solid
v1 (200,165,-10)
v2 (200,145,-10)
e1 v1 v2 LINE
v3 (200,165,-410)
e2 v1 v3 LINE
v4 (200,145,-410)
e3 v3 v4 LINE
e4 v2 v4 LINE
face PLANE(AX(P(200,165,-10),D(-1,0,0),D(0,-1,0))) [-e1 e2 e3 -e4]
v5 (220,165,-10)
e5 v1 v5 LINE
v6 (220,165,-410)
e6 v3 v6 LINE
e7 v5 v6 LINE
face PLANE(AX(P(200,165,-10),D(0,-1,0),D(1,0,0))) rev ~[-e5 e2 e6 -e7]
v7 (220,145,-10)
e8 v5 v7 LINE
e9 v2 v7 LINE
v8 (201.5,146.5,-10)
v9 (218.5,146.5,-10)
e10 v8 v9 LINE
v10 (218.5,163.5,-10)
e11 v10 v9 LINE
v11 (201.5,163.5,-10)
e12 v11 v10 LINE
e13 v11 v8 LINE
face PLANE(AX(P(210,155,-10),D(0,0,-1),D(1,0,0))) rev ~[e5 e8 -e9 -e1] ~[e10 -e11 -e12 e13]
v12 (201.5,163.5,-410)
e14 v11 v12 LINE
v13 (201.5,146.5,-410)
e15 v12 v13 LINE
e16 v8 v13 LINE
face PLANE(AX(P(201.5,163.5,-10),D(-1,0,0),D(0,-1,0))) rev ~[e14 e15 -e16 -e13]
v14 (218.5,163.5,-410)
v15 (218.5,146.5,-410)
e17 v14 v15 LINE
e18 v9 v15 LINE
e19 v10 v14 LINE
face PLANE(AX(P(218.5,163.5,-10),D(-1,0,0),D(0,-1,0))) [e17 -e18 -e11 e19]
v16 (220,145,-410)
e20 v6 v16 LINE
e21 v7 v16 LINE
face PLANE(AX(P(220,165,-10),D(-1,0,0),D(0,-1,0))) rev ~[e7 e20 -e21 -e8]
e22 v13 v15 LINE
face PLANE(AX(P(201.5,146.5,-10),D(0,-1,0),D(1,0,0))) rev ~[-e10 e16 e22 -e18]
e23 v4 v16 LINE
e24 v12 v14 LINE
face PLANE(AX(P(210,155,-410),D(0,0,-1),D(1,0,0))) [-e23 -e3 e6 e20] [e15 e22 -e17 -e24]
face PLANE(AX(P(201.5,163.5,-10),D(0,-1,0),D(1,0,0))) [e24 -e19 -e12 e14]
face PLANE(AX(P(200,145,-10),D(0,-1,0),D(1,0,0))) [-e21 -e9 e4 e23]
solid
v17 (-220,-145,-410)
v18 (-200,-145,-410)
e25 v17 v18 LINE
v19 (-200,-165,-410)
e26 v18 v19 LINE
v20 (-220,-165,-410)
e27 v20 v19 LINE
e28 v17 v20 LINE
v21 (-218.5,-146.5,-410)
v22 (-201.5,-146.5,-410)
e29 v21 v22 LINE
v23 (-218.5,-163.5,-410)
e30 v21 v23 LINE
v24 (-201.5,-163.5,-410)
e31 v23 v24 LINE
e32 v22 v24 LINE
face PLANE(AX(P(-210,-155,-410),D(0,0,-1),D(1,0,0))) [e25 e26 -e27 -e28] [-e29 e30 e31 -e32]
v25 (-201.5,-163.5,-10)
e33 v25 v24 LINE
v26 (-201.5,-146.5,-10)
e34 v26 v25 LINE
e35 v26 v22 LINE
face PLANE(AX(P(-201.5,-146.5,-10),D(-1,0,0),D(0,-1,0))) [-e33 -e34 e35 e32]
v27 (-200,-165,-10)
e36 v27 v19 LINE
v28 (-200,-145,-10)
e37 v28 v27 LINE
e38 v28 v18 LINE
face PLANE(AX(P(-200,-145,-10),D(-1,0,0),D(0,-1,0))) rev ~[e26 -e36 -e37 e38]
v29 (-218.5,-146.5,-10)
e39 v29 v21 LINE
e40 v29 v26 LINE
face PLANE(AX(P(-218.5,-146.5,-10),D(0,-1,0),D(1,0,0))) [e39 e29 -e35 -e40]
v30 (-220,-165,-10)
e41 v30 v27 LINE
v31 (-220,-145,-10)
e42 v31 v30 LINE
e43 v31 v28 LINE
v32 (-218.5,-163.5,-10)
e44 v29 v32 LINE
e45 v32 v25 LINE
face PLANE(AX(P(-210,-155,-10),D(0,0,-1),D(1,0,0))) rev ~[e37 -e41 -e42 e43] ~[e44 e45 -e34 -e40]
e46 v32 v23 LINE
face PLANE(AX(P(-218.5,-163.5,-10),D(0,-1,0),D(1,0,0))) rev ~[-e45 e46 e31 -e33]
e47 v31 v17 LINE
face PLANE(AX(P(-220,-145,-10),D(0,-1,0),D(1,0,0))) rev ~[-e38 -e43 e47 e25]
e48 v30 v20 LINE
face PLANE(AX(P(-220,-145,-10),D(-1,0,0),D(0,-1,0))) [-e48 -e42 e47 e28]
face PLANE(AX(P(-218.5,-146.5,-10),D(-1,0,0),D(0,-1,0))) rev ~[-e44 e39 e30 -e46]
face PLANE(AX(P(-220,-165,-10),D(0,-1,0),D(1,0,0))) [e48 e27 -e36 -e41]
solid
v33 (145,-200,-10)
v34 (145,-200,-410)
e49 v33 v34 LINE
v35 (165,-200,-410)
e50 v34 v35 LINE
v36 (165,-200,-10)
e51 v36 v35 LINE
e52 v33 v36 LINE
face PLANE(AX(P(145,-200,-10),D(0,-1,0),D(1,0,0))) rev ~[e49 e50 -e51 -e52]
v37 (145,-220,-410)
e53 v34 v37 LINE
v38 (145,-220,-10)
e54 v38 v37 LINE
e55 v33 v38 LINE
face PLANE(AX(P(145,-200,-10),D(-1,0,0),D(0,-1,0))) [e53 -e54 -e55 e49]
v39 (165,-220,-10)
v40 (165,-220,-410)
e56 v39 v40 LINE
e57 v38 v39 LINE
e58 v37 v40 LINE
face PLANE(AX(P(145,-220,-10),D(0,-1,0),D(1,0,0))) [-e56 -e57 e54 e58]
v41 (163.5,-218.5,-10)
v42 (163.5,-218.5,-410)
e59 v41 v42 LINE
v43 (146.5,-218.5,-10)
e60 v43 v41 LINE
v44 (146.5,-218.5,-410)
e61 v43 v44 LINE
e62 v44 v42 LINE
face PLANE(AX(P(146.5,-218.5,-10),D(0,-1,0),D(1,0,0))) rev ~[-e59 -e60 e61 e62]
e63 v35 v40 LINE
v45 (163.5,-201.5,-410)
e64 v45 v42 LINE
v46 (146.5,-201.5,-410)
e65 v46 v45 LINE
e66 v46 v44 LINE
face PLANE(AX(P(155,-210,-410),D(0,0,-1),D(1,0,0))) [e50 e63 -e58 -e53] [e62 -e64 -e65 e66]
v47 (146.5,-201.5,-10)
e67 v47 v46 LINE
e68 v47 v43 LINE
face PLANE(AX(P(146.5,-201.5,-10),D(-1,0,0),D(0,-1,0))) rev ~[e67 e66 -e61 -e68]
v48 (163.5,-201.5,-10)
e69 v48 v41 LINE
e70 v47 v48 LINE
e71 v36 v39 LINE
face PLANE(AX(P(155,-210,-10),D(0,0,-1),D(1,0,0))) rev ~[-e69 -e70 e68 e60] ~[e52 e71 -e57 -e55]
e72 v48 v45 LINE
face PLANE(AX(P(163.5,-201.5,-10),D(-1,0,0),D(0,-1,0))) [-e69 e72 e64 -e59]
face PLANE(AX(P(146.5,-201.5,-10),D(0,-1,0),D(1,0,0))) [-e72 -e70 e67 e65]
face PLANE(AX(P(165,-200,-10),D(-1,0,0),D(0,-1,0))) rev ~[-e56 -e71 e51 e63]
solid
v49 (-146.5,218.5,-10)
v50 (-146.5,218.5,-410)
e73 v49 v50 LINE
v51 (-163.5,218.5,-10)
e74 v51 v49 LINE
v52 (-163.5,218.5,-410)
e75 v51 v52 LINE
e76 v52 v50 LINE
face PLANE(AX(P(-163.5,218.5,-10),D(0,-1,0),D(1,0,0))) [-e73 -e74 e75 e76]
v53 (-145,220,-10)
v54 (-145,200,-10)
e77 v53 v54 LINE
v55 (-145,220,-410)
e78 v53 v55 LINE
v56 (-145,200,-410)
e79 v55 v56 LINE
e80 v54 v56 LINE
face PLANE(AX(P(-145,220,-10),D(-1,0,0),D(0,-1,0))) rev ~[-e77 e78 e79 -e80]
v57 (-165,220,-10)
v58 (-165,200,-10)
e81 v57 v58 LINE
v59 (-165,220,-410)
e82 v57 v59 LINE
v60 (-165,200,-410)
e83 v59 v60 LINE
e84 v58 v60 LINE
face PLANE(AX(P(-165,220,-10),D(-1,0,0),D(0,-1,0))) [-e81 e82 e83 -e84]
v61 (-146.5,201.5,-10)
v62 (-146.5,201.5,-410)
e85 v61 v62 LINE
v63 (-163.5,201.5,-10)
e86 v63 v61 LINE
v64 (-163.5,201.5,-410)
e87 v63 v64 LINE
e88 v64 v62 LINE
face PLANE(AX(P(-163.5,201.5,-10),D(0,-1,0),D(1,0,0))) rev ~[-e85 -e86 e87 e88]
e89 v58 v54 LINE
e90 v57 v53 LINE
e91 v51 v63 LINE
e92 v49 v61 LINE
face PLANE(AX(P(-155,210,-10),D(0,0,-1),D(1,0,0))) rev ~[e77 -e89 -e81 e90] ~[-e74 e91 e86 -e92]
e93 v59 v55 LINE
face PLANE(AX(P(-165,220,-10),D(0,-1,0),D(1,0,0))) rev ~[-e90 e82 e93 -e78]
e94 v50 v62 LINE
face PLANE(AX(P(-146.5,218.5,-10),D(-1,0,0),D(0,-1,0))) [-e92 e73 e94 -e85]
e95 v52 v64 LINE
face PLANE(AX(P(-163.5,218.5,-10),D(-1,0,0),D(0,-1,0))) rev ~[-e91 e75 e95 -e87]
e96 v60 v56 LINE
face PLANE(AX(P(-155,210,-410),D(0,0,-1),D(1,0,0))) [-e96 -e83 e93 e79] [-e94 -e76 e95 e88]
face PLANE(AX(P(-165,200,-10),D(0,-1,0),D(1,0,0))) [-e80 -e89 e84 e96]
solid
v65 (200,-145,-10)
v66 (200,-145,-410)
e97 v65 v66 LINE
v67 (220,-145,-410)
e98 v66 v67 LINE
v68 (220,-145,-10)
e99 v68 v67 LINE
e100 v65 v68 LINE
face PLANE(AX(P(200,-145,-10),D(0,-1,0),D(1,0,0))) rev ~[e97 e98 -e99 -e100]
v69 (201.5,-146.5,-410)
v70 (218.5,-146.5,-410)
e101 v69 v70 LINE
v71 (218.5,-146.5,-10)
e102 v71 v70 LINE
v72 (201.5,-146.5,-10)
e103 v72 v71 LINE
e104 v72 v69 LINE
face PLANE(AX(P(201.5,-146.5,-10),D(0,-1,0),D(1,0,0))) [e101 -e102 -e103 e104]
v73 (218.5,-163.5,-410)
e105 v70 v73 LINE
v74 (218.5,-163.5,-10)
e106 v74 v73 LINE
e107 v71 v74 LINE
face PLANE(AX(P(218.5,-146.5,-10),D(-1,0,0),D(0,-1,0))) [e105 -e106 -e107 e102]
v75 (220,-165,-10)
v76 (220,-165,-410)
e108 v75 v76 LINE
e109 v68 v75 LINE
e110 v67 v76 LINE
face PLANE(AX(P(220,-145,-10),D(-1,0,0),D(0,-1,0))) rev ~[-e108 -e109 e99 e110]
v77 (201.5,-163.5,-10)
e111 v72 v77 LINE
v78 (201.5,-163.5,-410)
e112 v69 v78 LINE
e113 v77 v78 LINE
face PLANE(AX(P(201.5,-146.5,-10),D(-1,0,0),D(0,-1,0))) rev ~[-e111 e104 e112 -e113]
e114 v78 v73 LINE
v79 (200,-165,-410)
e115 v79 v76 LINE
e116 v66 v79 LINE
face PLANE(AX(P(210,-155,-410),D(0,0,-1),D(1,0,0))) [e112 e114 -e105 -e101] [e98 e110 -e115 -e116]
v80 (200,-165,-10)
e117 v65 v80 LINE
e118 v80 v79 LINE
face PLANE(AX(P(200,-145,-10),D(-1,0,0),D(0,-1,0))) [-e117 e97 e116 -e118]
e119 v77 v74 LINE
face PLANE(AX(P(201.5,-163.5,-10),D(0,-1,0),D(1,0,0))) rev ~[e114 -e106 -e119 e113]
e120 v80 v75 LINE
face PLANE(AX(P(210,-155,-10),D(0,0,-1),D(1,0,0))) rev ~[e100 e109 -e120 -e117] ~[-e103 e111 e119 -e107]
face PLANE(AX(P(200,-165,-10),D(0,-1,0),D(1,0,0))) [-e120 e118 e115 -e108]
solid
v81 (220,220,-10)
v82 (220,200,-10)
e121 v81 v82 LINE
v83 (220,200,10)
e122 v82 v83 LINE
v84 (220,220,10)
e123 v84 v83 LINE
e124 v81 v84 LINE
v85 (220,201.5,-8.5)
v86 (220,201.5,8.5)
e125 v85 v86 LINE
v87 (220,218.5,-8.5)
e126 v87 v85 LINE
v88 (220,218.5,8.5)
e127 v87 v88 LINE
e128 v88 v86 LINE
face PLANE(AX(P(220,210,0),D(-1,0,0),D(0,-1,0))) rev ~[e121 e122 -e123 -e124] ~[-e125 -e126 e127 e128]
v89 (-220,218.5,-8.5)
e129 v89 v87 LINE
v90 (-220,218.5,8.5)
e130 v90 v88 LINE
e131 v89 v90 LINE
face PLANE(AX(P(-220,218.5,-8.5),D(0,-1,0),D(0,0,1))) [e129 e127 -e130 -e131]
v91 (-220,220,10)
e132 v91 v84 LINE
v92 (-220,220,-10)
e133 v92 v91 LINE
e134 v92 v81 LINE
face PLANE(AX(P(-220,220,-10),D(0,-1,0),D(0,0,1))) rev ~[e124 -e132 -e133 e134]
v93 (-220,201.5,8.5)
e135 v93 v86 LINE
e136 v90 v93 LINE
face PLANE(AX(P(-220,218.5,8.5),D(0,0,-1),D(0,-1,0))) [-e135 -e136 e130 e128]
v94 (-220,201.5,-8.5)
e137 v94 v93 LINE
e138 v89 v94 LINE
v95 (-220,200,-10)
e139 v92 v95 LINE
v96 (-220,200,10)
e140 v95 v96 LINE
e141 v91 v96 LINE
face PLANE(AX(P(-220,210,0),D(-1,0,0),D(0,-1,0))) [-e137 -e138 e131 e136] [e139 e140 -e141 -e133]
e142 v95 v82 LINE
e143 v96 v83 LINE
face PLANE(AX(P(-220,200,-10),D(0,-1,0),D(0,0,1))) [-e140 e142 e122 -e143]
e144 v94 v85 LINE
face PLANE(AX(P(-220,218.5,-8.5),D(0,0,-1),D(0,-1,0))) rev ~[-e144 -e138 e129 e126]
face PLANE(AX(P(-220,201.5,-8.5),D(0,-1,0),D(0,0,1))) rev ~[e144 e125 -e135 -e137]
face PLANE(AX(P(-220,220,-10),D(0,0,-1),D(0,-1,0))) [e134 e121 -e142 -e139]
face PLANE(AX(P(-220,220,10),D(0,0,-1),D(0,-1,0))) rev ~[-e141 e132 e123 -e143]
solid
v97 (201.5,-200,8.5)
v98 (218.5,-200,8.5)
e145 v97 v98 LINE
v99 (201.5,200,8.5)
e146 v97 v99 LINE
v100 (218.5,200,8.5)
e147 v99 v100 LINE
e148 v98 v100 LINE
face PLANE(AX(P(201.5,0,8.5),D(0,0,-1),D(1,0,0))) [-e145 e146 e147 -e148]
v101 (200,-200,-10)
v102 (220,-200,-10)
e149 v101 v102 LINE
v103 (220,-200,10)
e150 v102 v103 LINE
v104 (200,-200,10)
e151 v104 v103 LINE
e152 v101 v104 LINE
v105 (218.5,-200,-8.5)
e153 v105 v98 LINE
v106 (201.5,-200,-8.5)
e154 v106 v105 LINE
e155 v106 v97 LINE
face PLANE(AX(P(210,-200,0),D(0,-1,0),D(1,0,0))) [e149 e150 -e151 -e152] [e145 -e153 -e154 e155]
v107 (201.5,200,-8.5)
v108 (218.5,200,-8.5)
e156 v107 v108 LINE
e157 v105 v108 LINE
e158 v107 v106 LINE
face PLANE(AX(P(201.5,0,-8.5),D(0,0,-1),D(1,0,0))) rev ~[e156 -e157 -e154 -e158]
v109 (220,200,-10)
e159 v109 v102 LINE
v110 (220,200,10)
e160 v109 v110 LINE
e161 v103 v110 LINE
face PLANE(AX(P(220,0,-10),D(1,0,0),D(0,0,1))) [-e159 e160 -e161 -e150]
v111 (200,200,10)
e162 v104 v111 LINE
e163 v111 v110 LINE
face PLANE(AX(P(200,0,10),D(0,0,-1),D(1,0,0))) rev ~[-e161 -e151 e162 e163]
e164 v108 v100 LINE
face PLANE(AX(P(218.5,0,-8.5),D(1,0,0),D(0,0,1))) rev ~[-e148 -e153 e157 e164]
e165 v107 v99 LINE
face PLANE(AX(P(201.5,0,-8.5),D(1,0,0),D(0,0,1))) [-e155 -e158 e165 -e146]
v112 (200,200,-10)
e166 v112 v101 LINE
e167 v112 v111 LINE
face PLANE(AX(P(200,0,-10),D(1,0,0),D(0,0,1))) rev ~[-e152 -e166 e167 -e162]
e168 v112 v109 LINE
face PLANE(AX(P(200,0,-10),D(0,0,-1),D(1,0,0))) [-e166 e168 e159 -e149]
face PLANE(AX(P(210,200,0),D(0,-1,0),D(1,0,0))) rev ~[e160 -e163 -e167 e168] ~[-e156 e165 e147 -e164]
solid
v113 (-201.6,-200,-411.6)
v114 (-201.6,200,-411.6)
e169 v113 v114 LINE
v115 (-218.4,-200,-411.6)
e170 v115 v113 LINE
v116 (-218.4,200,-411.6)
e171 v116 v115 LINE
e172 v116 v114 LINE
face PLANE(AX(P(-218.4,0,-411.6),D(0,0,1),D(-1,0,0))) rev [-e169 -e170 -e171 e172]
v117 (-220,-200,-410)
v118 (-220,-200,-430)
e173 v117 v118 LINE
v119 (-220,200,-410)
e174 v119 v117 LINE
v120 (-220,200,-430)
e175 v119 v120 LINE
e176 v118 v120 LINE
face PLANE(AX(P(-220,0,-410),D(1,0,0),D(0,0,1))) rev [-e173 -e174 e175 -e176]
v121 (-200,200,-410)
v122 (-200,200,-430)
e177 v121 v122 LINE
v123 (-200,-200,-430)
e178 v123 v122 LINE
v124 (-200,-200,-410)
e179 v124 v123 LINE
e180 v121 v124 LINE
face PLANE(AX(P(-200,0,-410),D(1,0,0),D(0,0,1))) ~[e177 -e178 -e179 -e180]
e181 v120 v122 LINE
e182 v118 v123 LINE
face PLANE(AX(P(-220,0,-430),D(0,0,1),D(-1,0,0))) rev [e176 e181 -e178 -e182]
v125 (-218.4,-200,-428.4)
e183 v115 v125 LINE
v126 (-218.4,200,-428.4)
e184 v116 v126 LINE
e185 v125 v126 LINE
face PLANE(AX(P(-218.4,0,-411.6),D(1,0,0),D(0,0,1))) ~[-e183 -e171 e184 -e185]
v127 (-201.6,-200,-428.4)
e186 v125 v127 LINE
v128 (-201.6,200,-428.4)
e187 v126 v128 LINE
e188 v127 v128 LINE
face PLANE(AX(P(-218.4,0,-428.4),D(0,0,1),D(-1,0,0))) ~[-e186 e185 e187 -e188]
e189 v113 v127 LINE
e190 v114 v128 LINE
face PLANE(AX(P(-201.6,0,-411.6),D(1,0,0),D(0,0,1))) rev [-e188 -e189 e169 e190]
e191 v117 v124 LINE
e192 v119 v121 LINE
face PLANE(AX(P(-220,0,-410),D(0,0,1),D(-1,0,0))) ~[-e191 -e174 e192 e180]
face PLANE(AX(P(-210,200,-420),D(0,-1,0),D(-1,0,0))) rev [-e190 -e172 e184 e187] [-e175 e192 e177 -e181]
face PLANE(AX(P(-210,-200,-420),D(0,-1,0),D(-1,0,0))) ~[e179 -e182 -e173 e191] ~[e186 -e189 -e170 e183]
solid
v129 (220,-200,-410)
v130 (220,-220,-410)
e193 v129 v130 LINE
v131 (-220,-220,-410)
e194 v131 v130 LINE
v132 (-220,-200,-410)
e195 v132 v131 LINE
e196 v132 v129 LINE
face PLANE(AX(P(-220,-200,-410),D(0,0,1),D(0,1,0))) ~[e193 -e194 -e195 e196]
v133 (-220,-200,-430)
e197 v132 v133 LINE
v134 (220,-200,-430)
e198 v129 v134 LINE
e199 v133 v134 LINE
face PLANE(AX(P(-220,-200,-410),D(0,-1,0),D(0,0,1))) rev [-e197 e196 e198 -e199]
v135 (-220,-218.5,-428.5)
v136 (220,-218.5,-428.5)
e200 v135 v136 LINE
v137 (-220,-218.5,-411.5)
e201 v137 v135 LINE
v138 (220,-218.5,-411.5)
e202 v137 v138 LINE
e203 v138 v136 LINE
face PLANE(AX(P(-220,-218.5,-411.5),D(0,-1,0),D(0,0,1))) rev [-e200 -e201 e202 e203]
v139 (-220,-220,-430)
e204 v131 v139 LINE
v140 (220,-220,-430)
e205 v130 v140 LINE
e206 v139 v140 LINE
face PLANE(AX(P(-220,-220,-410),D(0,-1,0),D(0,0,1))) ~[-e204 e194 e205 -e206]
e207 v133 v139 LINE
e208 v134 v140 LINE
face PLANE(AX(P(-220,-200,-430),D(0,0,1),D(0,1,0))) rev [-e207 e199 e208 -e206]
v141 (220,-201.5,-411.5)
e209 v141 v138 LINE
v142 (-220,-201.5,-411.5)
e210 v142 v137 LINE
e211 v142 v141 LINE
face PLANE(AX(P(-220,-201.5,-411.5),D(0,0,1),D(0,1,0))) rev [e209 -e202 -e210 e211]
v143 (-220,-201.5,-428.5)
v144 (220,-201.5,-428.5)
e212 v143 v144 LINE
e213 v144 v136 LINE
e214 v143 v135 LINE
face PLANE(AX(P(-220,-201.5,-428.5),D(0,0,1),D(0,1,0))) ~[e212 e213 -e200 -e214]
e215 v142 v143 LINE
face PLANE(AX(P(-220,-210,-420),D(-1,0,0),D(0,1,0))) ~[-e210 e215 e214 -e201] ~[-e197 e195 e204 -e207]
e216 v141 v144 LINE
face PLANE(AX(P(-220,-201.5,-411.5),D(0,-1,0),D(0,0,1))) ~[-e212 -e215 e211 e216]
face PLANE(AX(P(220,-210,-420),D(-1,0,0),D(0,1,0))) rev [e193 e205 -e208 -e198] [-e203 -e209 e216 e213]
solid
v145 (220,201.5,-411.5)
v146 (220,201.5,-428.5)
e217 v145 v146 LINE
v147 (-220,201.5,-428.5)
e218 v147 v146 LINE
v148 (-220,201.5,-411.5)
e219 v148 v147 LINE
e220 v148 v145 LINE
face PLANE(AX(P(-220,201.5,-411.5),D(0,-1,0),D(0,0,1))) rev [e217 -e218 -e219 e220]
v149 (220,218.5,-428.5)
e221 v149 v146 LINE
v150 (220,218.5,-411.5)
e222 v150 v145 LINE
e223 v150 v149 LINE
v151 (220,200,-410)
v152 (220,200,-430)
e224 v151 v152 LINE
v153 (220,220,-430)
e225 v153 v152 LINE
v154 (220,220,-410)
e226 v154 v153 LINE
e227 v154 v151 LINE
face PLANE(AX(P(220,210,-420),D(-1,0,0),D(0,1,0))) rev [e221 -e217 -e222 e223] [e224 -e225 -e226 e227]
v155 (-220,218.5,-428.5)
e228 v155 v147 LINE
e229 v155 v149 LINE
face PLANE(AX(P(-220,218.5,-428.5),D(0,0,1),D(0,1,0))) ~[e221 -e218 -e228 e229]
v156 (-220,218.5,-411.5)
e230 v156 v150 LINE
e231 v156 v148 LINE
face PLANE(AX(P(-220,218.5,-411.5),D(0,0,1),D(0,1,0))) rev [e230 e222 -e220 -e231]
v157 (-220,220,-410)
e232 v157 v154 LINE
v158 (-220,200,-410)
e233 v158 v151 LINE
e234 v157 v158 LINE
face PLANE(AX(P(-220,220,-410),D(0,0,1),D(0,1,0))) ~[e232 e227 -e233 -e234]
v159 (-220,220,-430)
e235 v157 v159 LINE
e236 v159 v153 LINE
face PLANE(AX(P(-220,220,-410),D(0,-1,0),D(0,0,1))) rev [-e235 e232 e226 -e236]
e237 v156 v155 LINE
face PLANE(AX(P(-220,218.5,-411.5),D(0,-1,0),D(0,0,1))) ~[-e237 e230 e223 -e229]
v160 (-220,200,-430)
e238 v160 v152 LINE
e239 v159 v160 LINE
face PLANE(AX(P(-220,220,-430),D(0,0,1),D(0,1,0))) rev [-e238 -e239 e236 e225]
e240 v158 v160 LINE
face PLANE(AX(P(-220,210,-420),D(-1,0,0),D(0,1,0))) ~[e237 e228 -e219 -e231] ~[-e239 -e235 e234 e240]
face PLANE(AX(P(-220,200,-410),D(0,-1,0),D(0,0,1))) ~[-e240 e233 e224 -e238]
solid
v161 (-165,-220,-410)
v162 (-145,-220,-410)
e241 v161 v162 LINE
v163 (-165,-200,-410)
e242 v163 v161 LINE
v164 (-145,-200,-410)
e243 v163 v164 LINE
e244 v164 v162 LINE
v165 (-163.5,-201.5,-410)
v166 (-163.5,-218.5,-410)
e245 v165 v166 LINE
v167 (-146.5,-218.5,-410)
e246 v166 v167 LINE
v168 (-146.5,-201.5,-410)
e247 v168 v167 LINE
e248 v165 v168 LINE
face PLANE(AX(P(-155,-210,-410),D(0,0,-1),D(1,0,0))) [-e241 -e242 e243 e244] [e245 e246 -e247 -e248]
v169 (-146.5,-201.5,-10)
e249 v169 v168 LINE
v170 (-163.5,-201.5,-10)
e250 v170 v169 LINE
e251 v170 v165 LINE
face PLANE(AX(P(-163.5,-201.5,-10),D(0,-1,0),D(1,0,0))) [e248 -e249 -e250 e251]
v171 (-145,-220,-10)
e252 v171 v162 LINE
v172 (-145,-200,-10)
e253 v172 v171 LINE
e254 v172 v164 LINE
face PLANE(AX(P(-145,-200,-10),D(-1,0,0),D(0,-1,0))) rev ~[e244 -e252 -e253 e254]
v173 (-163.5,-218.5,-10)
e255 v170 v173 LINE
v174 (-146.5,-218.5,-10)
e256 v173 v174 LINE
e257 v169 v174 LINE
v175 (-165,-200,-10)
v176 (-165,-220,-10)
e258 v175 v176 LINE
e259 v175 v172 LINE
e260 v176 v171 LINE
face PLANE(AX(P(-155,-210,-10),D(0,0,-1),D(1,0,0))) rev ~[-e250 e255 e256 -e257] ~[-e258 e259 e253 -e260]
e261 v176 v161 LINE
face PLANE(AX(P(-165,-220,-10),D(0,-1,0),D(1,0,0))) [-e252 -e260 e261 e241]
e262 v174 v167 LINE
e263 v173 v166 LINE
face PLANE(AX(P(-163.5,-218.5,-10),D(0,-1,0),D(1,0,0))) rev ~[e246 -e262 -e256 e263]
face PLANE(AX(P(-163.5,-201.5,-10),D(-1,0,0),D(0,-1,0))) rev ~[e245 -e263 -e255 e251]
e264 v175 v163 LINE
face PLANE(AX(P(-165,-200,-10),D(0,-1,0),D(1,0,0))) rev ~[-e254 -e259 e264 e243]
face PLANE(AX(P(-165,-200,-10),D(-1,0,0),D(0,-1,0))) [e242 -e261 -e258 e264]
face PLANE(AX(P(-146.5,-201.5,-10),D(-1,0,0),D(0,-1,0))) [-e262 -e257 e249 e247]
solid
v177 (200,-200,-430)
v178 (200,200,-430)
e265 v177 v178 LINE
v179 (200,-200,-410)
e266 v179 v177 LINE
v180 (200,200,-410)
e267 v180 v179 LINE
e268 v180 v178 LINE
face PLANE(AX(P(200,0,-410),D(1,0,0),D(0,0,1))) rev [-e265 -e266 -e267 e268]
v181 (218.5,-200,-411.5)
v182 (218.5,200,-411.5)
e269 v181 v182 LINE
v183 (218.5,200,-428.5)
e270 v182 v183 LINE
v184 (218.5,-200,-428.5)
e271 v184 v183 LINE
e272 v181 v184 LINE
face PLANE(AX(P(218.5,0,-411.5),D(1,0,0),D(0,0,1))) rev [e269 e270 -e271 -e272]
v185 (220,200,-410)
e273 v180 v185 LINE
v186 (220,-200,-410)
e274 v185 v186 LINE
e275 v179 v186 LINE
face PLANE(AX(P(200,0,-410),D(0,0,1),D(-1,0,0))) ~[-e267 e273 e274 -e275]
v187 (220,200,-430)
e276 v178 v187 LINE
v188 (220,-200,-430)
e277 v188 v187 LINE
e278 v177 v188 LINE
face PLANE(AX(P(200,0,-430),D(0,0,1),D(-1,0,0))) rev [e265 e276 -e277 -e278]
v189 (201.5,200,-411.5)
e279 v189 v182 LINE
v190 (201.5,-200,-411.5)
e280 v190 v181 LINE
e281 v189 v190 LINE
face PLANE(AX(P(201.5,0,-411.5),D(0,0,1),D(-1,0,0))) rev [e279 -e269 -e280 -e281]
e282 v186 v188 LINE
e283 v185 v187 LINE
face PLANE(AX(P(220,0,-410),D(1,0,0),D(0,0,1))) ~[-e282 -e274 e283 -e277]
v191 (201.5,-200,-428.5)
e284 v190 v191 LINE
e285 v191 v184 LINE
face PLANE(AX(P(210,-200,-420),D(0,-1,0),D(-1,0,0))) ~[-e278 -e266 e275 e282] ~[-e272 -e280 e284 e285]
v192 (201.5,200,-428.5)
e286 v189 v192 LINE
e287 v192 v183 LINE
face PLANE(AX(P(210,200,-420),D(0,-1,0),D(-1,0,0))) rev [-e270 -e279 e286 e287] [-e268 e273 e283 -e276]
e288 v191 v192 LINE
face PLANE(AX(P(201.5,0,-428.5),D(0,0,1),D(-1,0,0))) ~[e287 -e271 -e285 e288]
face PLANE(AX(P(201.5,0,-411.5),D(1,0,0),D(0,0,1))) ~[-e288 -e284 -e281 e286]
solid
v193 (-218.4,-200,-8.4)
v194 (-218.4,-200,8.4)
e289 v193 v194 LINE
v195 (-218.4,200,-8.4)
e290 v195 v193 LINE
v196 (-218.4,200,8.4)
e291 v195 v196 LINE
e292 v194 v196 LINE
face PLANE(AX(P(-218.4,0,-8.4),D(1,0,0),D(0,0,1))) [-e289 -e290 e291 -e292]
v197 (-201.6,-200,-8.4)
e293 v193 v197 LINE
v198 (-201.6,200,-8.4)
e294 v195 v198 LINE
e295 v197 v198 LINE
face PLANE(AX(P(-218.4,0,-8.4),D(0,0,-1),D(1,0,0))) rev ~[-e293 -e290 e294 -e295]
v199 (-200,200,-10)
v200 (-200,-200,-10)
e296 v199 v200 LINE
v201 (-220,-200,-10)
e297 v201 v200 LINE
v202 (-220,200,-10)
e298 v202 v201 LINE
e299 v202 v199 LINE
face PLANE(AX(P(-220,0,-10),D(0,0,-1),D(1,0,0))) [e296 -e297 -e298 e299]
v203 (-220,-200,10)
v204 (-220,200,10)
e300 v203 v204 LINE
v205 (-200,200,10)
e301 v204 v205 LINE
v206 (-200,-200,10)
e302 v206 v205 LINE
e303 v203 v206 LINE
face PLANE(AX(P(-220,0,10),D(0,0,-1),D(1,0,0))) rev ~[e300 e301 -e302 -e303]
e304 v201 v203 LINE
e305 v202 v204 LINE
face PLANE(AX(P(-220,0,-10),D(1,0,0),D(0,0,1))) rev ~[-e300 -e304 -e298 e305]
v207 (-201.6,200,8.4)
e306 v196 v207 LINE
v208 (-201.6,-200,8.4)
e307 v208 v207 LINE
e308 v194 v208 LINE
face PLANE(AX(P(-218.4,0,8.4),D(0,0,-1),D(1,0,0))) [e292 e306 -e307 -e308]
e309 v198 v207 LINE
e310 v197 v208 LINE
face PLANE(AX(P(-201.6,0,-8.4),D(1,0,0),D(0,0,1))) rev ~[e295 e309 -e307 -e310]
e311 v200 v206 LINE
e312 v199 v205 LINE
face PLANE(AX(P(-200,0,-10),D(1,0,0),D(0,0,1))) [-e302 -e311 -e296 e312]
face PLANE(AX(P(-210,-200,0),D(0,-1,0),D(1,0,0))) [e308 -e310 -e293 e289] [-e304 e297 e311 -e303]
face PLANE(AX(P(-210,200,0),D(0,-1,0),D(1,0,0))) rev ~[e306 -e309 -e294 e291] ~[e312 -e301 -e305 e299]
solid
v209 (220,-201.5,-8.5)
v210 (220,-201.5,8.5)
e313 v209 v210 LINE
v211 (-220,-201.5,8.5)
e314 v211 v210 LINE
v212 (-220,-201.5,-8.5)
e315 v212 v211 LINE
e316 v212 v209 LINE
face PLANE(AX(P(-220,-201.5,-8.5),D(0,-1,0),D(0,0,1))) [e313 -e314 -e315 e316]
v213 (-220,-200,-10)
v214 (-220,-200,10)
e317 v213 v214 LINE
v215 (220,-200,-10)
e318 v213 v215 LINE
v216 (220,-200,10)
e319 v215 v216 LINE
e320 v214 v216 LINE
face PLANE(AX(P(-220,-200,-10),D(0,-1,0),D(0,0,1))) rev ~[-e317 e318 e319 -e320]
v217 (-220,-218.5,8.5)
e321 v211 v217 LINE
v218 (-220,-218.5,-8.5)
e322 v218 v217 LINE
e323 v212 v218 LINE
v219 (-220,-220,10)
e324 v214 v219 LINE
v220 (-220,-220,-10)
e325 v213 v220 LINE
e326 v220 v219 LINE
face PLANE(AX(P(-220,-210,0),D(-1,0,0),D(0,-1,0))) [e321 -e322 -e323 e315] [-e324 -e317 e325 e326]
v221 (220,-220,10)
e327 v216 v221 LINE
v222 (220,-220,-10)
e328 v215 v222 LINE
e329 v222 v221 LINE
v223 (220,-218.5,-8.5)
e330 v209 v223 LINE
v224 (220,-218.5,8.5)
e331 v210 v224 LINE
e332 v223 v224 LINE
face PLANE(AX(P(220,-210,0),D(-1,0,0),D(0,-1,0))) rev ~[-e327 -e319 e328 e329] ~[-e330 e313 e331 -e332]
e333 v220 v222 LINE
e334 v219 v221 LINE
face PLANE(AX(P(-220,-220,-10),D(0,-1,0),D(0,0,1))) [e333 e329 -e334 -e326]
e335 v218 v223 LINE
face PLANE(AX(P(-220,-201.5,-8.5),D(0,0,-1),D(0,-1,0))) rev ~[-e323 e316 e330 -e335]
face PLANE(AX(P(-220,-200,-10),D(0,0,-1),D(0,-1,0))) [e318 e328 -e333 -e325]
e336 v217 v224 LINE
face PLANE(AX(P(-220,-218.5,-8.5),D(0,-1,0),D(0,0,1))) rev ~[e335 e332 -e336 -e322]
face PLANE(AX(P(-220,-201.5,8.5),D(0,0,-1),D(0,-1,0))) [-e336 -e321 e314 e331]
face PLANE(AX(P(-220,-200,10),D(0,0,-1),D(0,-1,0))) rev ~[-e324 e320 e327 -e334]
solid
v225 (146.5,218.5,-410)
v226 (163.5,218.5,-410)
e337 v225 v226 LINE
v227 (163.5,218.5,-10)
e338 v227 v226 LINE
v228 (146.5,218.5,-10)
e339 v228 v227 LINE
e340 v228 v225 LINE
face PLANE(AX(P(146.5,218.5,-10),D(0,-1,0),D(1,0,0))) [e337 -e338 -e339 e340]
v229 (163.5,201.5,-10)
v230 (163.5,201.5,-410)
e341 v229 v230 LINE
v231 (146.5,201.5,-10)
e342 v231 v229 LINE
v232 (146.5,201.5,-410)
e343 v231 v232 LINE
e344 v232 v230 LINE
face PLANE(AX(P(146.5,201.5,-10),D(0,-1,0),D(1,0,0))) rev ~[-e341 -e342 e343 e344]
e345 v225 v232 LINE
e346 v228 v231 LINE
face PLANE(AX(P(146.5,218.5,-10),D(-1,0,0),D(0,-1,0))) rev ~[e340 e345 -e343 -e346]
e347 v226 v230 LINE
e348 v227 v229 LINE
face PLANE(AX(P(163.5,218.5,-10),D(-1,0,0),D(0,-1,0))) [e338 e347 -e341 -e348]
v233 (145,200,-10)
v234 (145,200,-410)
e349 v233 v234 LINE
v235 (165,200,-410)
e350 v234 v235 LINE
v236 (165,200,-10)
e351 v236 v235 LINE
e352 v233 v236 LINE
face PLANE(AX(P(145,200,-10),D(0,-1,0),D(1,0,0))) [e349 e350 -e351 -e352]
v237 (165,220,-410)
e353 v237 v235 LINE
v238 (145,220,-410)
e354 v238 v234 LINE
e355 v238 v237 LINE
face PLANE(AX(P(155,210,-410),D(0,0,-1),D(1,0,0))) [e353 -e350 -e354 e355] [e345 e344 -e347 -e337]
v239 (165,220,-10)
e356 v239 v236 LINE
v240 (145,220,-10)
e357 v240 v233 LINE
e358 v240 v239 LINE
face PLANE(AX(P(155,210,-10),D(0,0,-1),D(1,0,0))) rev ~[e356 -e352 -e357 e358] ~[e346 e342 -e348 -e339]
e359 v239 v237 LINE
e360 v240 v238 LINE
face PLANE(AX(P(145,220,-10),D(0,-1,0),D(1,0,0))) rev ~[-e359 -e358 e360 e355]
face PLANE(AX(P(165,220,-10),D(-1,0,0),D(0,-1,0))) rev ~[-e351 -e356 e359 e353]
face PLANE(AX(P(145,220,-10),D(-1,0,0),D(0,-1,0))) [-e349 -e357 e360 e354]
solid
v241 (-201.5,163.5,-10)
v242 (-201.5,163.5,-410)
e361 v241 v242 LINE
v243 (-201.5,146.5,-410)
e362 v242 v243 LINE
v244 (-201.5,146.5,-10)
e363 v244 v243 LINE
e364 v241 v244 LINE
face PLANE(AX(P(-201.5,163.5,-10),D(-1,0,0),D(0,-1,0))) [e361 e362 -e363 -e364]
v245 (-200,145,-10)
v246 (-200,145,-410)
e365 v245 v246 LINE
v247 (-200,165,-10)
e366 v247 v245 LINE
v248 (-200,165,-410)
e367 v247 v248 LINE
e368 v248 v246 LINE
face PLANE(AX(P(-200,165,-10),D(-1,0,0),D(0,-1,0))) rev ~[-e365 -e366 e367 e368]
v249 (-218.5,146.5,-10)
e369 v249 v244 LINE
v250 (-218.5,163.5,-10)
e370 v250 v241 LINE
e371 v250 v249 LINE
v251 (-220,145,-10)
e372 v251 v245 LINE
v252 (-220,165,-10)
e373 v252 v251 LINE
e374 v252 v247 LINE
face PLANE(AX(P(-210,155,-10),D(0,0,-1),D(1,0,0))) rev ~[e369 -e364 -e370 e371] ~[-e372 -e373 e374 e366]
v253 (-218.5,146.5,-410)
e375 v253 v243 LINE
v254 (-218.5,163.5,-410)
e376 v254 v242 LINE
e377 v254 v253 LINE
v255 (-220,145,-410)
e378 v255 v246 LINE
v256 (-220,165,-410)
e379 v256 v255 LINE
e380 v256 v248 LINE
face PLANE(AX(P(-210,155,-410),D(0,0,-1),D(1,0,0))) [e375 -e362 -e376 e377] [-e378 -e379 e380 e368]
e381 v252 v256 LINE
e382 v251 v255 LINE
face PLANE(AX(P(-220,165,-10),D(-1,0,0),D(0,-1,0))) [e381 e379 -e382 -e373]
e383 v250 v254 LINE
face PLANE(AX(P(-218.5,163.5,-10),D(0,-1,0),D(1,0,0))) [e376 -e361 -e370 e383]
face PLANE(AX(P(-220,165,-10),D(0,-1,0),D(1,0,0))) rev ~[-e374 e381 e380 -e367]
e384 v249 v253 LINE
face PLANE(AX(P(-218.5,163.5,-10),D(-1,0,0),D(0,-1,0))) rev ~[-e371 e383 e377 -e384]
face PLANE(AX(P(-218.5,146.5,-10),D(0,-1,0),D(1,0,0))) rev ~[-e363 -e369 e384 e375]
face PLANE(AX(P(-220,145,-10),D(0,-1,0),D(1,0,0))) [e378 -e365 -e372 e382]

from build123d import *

# Parameters (mm, degrees)
F0_W     = 20
F0_H     = 20
F0_W_2   = 16.799999401
F0_H_2   = 16.799999401
F1_DEPTH = 200
F0_W_3   = 17
F0_H_3   = 17
F3_W     = 20
F3_H     = 20
F3_W_2   = 17
F3_H_2   = 17
F4_DEPTH = 440
F5_W     = 20
F5_H     = 20
F5_W_2   = 17
F5_H_2   = 17
F6_DEPTH = 400


with BuildPart() as f1:
    # F0 (on Front) → F1 (new body, symmetric)
    with BuildSketch(Plane.XZ):
        with Locations((-210, 0)):
            Rectangle(F0_W, F0_H)
        with Locations((-210, 0)):
            Rectangle(F0_W_2, F0_H_2, mode=Mode.SUBTRACT)
    extrude(amount=F1_DEPTH, both=True)


with BuildPart() as f1b:
    # F0 (on Front) → F1, piece 2 (new body, symmetric)
    with BuildSketch(Plane.XZ):
        with Locations((210, 0)):
            Rectangle(F0_W, F0_H)
        with Locations((210, 0)):
            Rectangle(F0_W_3, F0_H_3, mode=Mode.SUBTRACT)
    extrude(amount=F1_DEPTH, both=True)


with BuildPart() as f4:
    # F3 (on face) → F4 (new body, through all)
    with BuildSketch(Plane(origin=(-220, 0, 0), x_dir=(0, -1, 0), z_dir=(-1, 0, 0))):
        with Locations((-210, 0)):
            Rectangle(F3_W, F3_H)
        with Locations((-210, 0)):
            Rectangle(F3_W_2, F3_H_2, mode=Mode.SUBTRACT)
    extrude(amount=-F4_DEPTH)


with BuildPart() as f4b:
    # F3 (on face) → F4, piece 2 (new body, through all)
    with BuildSketch(Plane(origin=(-220, 0, 0), x_dir=(0, -1, 0), z_dir=(-1, 0, 0))):
        with Locations((210, 0)):
            Rectangle(F3_W, F3_H)
        with Locations((210, 0)):
            Rectangle(F3_W_2, F3_H_2, mode=Mode.SUBTRACT)
    extrude(amount=-F4_DEPTH)


with BuildPart() as f6:
    # F5 (on face) → F6 (new body)
    with BuildSketch(Plane(origin=(0, 0, -10), x_dir=(1, 0, 0), z_dir=(0, 0, -1))):
        with Locations((-155, 210)):
            Rectangle(F5_W, F5_H)
        with Locations((-155, 210)):
            Rectangle(F5_W_2, F5_H_2, mode=Mode.SUBTRACT)
    extrude(amount=F6_DEPTH)


with BuildPart() as f6b:
    # F5 (on face) → F6, piece 2 (new body)
    with BuildSketch(Plane(origin=(0, 0, -10), x_dir=(1, 0, 0), z_dir=(0, 0, -1))):
        with Locations((155, 210)):
            Rectangle(F5_W, F5_H)
        with Locations((155, 210)):
            Rectangle(F5_W_2, F5_H_2, mode=Mode.SUBTRACT)
    extrude(amount=F6_DEPTH)


with BuildPart() as f6c:
    # F5 (on face) → F6, piece 3 (new body)
    with BuildSketch(Plane(origin=(0, 0, -10), x_dir=(1, 0, 0), z_dir=(0, 0, -1))):
        with Locations((-155, -210)):
            Rectangle(F5_W, F5_H)
        with Locations((-155, -210)):
            Rectangle(F5_W_2, F5_H_2, mode=Mode.SUBTRACT)
    extrude(amount=F6_DEPTH)


with BuildPart() as f6d:
    # F5 (on face) → F6, piece 4 (new body)
    with BuildSketch(Plane(origin=(0, 0, -10), x_dir=(1, 0, 0), z_dir=(0, 0, -1))):
        with Locations((155, -210)):
            Rectangle(F5_W, F5_H)
        with Locations((155, -210)):
            Rectangle(F5_W_2, F5_H_2, mode=Mode.SUBTRACT)
    extrude(amount=F6_DEPTH)


with BuildPart() as f6e:
    # F5 (on face) → F6, piece 5 (new body)
    with BuildSketch(Plane(origin=(0, 0, -10), x_dir=(1, 0, 0), z_dir=(0, 0, -1))):
        with Locations((-210, 155)):
            Rectangle(F5_W, F5_H)
        with Locations((-210, 155)):
            Rectangle(F5_W_2, F5_H_2, mode=Mode.SUBTRACT)
    extrude(amount=F6_DEPTH)


with BuildPart() as f6f:
    # F5 (on face) → F6, piece 6 (new body)
    with BuildSketch(Plane(origin=(0, 0, -10), x_dir=(1, 0, 0), z_dir=(0, 0, -1))):
        with Locations((-210, -155)):
            Rectangle(F5_W, F5_H)
        with Locations((-210, -155)):
            Rectangle(F5_W_2, F5_H_2, mode=Mode.SUBTRACT)
    extrude(amount=F6_DEPTH)


with BuildPart() as f6g:
    # F5 (on face) → F6, piece 7 (new body)
    with BuildSketch(Plane(origin=(0, 0, -10), x_dir=(1, 0, 0), z_dir=(0, 0, -1))):
        with Locations((210, 155)):
            Rectangle(F5_W, F5_H)
        with Locations((210, 155)):
            Rectangle(F5_W_2, F5_H_2, mode=Mode.SUBTRACT)
    extrude(amount=F6_DEPTH)


with BuildPart() as f6h:
    # F5 (on face) → F6, piece 8 (new body)
    with BuildSketch(Plane(origin=(0, 0, -10), x_dir=(1, 0, 0), z_dir=(0, 0, -1))):
        with Locations((210, -155)):
            Rectangle(F5_W, F5_H)
        with Locations((210, -155)):
            Rectangle(F5_W_2, F5_H_2, mode=Mode.SUBTRACT)
    extrude(amount=F6_DEPTH)


with BuildPart() as f8_1:
    # F8: instance of F4b
    add(f4b.part.mirror(Plane(origin=(165, 220, -210), x_dir=(1, 0, 0), z_dir=(0, 0, -1))))


with BuildPart() as f8_2:
    # F8: instance of F1b
    add(f1b.part.mirror(Plane(origin=(165, 220, -210), x_dir=(1, 0, 0), z_dir=(0, 0, -1))))


with BuildPart() as f8_3:
    # F8: instance of F1
    add(f1.part.mirror(Plane(origin=(165, 220, -210), x_dir=(1, 0, 0), z_dir=(0, 0, -1))))


with BuildPart() as f8_4:
    # F8: instance of F4
    add(f4.part.mirror(Plane(origin=(165, 220, -210), x_dir=(1, 0, 0), z_dir=(0, 0, -1))))


solid = Compound([f1.part, f1b.part, f4.part, f4b.part, f6.part, f6b.part, f6c.part, f6d.part, f6e.part, f6f.part, f6g.part, f6h.part, f8_1.part, f8_2.part, f8_3.part, f8_4.part])
